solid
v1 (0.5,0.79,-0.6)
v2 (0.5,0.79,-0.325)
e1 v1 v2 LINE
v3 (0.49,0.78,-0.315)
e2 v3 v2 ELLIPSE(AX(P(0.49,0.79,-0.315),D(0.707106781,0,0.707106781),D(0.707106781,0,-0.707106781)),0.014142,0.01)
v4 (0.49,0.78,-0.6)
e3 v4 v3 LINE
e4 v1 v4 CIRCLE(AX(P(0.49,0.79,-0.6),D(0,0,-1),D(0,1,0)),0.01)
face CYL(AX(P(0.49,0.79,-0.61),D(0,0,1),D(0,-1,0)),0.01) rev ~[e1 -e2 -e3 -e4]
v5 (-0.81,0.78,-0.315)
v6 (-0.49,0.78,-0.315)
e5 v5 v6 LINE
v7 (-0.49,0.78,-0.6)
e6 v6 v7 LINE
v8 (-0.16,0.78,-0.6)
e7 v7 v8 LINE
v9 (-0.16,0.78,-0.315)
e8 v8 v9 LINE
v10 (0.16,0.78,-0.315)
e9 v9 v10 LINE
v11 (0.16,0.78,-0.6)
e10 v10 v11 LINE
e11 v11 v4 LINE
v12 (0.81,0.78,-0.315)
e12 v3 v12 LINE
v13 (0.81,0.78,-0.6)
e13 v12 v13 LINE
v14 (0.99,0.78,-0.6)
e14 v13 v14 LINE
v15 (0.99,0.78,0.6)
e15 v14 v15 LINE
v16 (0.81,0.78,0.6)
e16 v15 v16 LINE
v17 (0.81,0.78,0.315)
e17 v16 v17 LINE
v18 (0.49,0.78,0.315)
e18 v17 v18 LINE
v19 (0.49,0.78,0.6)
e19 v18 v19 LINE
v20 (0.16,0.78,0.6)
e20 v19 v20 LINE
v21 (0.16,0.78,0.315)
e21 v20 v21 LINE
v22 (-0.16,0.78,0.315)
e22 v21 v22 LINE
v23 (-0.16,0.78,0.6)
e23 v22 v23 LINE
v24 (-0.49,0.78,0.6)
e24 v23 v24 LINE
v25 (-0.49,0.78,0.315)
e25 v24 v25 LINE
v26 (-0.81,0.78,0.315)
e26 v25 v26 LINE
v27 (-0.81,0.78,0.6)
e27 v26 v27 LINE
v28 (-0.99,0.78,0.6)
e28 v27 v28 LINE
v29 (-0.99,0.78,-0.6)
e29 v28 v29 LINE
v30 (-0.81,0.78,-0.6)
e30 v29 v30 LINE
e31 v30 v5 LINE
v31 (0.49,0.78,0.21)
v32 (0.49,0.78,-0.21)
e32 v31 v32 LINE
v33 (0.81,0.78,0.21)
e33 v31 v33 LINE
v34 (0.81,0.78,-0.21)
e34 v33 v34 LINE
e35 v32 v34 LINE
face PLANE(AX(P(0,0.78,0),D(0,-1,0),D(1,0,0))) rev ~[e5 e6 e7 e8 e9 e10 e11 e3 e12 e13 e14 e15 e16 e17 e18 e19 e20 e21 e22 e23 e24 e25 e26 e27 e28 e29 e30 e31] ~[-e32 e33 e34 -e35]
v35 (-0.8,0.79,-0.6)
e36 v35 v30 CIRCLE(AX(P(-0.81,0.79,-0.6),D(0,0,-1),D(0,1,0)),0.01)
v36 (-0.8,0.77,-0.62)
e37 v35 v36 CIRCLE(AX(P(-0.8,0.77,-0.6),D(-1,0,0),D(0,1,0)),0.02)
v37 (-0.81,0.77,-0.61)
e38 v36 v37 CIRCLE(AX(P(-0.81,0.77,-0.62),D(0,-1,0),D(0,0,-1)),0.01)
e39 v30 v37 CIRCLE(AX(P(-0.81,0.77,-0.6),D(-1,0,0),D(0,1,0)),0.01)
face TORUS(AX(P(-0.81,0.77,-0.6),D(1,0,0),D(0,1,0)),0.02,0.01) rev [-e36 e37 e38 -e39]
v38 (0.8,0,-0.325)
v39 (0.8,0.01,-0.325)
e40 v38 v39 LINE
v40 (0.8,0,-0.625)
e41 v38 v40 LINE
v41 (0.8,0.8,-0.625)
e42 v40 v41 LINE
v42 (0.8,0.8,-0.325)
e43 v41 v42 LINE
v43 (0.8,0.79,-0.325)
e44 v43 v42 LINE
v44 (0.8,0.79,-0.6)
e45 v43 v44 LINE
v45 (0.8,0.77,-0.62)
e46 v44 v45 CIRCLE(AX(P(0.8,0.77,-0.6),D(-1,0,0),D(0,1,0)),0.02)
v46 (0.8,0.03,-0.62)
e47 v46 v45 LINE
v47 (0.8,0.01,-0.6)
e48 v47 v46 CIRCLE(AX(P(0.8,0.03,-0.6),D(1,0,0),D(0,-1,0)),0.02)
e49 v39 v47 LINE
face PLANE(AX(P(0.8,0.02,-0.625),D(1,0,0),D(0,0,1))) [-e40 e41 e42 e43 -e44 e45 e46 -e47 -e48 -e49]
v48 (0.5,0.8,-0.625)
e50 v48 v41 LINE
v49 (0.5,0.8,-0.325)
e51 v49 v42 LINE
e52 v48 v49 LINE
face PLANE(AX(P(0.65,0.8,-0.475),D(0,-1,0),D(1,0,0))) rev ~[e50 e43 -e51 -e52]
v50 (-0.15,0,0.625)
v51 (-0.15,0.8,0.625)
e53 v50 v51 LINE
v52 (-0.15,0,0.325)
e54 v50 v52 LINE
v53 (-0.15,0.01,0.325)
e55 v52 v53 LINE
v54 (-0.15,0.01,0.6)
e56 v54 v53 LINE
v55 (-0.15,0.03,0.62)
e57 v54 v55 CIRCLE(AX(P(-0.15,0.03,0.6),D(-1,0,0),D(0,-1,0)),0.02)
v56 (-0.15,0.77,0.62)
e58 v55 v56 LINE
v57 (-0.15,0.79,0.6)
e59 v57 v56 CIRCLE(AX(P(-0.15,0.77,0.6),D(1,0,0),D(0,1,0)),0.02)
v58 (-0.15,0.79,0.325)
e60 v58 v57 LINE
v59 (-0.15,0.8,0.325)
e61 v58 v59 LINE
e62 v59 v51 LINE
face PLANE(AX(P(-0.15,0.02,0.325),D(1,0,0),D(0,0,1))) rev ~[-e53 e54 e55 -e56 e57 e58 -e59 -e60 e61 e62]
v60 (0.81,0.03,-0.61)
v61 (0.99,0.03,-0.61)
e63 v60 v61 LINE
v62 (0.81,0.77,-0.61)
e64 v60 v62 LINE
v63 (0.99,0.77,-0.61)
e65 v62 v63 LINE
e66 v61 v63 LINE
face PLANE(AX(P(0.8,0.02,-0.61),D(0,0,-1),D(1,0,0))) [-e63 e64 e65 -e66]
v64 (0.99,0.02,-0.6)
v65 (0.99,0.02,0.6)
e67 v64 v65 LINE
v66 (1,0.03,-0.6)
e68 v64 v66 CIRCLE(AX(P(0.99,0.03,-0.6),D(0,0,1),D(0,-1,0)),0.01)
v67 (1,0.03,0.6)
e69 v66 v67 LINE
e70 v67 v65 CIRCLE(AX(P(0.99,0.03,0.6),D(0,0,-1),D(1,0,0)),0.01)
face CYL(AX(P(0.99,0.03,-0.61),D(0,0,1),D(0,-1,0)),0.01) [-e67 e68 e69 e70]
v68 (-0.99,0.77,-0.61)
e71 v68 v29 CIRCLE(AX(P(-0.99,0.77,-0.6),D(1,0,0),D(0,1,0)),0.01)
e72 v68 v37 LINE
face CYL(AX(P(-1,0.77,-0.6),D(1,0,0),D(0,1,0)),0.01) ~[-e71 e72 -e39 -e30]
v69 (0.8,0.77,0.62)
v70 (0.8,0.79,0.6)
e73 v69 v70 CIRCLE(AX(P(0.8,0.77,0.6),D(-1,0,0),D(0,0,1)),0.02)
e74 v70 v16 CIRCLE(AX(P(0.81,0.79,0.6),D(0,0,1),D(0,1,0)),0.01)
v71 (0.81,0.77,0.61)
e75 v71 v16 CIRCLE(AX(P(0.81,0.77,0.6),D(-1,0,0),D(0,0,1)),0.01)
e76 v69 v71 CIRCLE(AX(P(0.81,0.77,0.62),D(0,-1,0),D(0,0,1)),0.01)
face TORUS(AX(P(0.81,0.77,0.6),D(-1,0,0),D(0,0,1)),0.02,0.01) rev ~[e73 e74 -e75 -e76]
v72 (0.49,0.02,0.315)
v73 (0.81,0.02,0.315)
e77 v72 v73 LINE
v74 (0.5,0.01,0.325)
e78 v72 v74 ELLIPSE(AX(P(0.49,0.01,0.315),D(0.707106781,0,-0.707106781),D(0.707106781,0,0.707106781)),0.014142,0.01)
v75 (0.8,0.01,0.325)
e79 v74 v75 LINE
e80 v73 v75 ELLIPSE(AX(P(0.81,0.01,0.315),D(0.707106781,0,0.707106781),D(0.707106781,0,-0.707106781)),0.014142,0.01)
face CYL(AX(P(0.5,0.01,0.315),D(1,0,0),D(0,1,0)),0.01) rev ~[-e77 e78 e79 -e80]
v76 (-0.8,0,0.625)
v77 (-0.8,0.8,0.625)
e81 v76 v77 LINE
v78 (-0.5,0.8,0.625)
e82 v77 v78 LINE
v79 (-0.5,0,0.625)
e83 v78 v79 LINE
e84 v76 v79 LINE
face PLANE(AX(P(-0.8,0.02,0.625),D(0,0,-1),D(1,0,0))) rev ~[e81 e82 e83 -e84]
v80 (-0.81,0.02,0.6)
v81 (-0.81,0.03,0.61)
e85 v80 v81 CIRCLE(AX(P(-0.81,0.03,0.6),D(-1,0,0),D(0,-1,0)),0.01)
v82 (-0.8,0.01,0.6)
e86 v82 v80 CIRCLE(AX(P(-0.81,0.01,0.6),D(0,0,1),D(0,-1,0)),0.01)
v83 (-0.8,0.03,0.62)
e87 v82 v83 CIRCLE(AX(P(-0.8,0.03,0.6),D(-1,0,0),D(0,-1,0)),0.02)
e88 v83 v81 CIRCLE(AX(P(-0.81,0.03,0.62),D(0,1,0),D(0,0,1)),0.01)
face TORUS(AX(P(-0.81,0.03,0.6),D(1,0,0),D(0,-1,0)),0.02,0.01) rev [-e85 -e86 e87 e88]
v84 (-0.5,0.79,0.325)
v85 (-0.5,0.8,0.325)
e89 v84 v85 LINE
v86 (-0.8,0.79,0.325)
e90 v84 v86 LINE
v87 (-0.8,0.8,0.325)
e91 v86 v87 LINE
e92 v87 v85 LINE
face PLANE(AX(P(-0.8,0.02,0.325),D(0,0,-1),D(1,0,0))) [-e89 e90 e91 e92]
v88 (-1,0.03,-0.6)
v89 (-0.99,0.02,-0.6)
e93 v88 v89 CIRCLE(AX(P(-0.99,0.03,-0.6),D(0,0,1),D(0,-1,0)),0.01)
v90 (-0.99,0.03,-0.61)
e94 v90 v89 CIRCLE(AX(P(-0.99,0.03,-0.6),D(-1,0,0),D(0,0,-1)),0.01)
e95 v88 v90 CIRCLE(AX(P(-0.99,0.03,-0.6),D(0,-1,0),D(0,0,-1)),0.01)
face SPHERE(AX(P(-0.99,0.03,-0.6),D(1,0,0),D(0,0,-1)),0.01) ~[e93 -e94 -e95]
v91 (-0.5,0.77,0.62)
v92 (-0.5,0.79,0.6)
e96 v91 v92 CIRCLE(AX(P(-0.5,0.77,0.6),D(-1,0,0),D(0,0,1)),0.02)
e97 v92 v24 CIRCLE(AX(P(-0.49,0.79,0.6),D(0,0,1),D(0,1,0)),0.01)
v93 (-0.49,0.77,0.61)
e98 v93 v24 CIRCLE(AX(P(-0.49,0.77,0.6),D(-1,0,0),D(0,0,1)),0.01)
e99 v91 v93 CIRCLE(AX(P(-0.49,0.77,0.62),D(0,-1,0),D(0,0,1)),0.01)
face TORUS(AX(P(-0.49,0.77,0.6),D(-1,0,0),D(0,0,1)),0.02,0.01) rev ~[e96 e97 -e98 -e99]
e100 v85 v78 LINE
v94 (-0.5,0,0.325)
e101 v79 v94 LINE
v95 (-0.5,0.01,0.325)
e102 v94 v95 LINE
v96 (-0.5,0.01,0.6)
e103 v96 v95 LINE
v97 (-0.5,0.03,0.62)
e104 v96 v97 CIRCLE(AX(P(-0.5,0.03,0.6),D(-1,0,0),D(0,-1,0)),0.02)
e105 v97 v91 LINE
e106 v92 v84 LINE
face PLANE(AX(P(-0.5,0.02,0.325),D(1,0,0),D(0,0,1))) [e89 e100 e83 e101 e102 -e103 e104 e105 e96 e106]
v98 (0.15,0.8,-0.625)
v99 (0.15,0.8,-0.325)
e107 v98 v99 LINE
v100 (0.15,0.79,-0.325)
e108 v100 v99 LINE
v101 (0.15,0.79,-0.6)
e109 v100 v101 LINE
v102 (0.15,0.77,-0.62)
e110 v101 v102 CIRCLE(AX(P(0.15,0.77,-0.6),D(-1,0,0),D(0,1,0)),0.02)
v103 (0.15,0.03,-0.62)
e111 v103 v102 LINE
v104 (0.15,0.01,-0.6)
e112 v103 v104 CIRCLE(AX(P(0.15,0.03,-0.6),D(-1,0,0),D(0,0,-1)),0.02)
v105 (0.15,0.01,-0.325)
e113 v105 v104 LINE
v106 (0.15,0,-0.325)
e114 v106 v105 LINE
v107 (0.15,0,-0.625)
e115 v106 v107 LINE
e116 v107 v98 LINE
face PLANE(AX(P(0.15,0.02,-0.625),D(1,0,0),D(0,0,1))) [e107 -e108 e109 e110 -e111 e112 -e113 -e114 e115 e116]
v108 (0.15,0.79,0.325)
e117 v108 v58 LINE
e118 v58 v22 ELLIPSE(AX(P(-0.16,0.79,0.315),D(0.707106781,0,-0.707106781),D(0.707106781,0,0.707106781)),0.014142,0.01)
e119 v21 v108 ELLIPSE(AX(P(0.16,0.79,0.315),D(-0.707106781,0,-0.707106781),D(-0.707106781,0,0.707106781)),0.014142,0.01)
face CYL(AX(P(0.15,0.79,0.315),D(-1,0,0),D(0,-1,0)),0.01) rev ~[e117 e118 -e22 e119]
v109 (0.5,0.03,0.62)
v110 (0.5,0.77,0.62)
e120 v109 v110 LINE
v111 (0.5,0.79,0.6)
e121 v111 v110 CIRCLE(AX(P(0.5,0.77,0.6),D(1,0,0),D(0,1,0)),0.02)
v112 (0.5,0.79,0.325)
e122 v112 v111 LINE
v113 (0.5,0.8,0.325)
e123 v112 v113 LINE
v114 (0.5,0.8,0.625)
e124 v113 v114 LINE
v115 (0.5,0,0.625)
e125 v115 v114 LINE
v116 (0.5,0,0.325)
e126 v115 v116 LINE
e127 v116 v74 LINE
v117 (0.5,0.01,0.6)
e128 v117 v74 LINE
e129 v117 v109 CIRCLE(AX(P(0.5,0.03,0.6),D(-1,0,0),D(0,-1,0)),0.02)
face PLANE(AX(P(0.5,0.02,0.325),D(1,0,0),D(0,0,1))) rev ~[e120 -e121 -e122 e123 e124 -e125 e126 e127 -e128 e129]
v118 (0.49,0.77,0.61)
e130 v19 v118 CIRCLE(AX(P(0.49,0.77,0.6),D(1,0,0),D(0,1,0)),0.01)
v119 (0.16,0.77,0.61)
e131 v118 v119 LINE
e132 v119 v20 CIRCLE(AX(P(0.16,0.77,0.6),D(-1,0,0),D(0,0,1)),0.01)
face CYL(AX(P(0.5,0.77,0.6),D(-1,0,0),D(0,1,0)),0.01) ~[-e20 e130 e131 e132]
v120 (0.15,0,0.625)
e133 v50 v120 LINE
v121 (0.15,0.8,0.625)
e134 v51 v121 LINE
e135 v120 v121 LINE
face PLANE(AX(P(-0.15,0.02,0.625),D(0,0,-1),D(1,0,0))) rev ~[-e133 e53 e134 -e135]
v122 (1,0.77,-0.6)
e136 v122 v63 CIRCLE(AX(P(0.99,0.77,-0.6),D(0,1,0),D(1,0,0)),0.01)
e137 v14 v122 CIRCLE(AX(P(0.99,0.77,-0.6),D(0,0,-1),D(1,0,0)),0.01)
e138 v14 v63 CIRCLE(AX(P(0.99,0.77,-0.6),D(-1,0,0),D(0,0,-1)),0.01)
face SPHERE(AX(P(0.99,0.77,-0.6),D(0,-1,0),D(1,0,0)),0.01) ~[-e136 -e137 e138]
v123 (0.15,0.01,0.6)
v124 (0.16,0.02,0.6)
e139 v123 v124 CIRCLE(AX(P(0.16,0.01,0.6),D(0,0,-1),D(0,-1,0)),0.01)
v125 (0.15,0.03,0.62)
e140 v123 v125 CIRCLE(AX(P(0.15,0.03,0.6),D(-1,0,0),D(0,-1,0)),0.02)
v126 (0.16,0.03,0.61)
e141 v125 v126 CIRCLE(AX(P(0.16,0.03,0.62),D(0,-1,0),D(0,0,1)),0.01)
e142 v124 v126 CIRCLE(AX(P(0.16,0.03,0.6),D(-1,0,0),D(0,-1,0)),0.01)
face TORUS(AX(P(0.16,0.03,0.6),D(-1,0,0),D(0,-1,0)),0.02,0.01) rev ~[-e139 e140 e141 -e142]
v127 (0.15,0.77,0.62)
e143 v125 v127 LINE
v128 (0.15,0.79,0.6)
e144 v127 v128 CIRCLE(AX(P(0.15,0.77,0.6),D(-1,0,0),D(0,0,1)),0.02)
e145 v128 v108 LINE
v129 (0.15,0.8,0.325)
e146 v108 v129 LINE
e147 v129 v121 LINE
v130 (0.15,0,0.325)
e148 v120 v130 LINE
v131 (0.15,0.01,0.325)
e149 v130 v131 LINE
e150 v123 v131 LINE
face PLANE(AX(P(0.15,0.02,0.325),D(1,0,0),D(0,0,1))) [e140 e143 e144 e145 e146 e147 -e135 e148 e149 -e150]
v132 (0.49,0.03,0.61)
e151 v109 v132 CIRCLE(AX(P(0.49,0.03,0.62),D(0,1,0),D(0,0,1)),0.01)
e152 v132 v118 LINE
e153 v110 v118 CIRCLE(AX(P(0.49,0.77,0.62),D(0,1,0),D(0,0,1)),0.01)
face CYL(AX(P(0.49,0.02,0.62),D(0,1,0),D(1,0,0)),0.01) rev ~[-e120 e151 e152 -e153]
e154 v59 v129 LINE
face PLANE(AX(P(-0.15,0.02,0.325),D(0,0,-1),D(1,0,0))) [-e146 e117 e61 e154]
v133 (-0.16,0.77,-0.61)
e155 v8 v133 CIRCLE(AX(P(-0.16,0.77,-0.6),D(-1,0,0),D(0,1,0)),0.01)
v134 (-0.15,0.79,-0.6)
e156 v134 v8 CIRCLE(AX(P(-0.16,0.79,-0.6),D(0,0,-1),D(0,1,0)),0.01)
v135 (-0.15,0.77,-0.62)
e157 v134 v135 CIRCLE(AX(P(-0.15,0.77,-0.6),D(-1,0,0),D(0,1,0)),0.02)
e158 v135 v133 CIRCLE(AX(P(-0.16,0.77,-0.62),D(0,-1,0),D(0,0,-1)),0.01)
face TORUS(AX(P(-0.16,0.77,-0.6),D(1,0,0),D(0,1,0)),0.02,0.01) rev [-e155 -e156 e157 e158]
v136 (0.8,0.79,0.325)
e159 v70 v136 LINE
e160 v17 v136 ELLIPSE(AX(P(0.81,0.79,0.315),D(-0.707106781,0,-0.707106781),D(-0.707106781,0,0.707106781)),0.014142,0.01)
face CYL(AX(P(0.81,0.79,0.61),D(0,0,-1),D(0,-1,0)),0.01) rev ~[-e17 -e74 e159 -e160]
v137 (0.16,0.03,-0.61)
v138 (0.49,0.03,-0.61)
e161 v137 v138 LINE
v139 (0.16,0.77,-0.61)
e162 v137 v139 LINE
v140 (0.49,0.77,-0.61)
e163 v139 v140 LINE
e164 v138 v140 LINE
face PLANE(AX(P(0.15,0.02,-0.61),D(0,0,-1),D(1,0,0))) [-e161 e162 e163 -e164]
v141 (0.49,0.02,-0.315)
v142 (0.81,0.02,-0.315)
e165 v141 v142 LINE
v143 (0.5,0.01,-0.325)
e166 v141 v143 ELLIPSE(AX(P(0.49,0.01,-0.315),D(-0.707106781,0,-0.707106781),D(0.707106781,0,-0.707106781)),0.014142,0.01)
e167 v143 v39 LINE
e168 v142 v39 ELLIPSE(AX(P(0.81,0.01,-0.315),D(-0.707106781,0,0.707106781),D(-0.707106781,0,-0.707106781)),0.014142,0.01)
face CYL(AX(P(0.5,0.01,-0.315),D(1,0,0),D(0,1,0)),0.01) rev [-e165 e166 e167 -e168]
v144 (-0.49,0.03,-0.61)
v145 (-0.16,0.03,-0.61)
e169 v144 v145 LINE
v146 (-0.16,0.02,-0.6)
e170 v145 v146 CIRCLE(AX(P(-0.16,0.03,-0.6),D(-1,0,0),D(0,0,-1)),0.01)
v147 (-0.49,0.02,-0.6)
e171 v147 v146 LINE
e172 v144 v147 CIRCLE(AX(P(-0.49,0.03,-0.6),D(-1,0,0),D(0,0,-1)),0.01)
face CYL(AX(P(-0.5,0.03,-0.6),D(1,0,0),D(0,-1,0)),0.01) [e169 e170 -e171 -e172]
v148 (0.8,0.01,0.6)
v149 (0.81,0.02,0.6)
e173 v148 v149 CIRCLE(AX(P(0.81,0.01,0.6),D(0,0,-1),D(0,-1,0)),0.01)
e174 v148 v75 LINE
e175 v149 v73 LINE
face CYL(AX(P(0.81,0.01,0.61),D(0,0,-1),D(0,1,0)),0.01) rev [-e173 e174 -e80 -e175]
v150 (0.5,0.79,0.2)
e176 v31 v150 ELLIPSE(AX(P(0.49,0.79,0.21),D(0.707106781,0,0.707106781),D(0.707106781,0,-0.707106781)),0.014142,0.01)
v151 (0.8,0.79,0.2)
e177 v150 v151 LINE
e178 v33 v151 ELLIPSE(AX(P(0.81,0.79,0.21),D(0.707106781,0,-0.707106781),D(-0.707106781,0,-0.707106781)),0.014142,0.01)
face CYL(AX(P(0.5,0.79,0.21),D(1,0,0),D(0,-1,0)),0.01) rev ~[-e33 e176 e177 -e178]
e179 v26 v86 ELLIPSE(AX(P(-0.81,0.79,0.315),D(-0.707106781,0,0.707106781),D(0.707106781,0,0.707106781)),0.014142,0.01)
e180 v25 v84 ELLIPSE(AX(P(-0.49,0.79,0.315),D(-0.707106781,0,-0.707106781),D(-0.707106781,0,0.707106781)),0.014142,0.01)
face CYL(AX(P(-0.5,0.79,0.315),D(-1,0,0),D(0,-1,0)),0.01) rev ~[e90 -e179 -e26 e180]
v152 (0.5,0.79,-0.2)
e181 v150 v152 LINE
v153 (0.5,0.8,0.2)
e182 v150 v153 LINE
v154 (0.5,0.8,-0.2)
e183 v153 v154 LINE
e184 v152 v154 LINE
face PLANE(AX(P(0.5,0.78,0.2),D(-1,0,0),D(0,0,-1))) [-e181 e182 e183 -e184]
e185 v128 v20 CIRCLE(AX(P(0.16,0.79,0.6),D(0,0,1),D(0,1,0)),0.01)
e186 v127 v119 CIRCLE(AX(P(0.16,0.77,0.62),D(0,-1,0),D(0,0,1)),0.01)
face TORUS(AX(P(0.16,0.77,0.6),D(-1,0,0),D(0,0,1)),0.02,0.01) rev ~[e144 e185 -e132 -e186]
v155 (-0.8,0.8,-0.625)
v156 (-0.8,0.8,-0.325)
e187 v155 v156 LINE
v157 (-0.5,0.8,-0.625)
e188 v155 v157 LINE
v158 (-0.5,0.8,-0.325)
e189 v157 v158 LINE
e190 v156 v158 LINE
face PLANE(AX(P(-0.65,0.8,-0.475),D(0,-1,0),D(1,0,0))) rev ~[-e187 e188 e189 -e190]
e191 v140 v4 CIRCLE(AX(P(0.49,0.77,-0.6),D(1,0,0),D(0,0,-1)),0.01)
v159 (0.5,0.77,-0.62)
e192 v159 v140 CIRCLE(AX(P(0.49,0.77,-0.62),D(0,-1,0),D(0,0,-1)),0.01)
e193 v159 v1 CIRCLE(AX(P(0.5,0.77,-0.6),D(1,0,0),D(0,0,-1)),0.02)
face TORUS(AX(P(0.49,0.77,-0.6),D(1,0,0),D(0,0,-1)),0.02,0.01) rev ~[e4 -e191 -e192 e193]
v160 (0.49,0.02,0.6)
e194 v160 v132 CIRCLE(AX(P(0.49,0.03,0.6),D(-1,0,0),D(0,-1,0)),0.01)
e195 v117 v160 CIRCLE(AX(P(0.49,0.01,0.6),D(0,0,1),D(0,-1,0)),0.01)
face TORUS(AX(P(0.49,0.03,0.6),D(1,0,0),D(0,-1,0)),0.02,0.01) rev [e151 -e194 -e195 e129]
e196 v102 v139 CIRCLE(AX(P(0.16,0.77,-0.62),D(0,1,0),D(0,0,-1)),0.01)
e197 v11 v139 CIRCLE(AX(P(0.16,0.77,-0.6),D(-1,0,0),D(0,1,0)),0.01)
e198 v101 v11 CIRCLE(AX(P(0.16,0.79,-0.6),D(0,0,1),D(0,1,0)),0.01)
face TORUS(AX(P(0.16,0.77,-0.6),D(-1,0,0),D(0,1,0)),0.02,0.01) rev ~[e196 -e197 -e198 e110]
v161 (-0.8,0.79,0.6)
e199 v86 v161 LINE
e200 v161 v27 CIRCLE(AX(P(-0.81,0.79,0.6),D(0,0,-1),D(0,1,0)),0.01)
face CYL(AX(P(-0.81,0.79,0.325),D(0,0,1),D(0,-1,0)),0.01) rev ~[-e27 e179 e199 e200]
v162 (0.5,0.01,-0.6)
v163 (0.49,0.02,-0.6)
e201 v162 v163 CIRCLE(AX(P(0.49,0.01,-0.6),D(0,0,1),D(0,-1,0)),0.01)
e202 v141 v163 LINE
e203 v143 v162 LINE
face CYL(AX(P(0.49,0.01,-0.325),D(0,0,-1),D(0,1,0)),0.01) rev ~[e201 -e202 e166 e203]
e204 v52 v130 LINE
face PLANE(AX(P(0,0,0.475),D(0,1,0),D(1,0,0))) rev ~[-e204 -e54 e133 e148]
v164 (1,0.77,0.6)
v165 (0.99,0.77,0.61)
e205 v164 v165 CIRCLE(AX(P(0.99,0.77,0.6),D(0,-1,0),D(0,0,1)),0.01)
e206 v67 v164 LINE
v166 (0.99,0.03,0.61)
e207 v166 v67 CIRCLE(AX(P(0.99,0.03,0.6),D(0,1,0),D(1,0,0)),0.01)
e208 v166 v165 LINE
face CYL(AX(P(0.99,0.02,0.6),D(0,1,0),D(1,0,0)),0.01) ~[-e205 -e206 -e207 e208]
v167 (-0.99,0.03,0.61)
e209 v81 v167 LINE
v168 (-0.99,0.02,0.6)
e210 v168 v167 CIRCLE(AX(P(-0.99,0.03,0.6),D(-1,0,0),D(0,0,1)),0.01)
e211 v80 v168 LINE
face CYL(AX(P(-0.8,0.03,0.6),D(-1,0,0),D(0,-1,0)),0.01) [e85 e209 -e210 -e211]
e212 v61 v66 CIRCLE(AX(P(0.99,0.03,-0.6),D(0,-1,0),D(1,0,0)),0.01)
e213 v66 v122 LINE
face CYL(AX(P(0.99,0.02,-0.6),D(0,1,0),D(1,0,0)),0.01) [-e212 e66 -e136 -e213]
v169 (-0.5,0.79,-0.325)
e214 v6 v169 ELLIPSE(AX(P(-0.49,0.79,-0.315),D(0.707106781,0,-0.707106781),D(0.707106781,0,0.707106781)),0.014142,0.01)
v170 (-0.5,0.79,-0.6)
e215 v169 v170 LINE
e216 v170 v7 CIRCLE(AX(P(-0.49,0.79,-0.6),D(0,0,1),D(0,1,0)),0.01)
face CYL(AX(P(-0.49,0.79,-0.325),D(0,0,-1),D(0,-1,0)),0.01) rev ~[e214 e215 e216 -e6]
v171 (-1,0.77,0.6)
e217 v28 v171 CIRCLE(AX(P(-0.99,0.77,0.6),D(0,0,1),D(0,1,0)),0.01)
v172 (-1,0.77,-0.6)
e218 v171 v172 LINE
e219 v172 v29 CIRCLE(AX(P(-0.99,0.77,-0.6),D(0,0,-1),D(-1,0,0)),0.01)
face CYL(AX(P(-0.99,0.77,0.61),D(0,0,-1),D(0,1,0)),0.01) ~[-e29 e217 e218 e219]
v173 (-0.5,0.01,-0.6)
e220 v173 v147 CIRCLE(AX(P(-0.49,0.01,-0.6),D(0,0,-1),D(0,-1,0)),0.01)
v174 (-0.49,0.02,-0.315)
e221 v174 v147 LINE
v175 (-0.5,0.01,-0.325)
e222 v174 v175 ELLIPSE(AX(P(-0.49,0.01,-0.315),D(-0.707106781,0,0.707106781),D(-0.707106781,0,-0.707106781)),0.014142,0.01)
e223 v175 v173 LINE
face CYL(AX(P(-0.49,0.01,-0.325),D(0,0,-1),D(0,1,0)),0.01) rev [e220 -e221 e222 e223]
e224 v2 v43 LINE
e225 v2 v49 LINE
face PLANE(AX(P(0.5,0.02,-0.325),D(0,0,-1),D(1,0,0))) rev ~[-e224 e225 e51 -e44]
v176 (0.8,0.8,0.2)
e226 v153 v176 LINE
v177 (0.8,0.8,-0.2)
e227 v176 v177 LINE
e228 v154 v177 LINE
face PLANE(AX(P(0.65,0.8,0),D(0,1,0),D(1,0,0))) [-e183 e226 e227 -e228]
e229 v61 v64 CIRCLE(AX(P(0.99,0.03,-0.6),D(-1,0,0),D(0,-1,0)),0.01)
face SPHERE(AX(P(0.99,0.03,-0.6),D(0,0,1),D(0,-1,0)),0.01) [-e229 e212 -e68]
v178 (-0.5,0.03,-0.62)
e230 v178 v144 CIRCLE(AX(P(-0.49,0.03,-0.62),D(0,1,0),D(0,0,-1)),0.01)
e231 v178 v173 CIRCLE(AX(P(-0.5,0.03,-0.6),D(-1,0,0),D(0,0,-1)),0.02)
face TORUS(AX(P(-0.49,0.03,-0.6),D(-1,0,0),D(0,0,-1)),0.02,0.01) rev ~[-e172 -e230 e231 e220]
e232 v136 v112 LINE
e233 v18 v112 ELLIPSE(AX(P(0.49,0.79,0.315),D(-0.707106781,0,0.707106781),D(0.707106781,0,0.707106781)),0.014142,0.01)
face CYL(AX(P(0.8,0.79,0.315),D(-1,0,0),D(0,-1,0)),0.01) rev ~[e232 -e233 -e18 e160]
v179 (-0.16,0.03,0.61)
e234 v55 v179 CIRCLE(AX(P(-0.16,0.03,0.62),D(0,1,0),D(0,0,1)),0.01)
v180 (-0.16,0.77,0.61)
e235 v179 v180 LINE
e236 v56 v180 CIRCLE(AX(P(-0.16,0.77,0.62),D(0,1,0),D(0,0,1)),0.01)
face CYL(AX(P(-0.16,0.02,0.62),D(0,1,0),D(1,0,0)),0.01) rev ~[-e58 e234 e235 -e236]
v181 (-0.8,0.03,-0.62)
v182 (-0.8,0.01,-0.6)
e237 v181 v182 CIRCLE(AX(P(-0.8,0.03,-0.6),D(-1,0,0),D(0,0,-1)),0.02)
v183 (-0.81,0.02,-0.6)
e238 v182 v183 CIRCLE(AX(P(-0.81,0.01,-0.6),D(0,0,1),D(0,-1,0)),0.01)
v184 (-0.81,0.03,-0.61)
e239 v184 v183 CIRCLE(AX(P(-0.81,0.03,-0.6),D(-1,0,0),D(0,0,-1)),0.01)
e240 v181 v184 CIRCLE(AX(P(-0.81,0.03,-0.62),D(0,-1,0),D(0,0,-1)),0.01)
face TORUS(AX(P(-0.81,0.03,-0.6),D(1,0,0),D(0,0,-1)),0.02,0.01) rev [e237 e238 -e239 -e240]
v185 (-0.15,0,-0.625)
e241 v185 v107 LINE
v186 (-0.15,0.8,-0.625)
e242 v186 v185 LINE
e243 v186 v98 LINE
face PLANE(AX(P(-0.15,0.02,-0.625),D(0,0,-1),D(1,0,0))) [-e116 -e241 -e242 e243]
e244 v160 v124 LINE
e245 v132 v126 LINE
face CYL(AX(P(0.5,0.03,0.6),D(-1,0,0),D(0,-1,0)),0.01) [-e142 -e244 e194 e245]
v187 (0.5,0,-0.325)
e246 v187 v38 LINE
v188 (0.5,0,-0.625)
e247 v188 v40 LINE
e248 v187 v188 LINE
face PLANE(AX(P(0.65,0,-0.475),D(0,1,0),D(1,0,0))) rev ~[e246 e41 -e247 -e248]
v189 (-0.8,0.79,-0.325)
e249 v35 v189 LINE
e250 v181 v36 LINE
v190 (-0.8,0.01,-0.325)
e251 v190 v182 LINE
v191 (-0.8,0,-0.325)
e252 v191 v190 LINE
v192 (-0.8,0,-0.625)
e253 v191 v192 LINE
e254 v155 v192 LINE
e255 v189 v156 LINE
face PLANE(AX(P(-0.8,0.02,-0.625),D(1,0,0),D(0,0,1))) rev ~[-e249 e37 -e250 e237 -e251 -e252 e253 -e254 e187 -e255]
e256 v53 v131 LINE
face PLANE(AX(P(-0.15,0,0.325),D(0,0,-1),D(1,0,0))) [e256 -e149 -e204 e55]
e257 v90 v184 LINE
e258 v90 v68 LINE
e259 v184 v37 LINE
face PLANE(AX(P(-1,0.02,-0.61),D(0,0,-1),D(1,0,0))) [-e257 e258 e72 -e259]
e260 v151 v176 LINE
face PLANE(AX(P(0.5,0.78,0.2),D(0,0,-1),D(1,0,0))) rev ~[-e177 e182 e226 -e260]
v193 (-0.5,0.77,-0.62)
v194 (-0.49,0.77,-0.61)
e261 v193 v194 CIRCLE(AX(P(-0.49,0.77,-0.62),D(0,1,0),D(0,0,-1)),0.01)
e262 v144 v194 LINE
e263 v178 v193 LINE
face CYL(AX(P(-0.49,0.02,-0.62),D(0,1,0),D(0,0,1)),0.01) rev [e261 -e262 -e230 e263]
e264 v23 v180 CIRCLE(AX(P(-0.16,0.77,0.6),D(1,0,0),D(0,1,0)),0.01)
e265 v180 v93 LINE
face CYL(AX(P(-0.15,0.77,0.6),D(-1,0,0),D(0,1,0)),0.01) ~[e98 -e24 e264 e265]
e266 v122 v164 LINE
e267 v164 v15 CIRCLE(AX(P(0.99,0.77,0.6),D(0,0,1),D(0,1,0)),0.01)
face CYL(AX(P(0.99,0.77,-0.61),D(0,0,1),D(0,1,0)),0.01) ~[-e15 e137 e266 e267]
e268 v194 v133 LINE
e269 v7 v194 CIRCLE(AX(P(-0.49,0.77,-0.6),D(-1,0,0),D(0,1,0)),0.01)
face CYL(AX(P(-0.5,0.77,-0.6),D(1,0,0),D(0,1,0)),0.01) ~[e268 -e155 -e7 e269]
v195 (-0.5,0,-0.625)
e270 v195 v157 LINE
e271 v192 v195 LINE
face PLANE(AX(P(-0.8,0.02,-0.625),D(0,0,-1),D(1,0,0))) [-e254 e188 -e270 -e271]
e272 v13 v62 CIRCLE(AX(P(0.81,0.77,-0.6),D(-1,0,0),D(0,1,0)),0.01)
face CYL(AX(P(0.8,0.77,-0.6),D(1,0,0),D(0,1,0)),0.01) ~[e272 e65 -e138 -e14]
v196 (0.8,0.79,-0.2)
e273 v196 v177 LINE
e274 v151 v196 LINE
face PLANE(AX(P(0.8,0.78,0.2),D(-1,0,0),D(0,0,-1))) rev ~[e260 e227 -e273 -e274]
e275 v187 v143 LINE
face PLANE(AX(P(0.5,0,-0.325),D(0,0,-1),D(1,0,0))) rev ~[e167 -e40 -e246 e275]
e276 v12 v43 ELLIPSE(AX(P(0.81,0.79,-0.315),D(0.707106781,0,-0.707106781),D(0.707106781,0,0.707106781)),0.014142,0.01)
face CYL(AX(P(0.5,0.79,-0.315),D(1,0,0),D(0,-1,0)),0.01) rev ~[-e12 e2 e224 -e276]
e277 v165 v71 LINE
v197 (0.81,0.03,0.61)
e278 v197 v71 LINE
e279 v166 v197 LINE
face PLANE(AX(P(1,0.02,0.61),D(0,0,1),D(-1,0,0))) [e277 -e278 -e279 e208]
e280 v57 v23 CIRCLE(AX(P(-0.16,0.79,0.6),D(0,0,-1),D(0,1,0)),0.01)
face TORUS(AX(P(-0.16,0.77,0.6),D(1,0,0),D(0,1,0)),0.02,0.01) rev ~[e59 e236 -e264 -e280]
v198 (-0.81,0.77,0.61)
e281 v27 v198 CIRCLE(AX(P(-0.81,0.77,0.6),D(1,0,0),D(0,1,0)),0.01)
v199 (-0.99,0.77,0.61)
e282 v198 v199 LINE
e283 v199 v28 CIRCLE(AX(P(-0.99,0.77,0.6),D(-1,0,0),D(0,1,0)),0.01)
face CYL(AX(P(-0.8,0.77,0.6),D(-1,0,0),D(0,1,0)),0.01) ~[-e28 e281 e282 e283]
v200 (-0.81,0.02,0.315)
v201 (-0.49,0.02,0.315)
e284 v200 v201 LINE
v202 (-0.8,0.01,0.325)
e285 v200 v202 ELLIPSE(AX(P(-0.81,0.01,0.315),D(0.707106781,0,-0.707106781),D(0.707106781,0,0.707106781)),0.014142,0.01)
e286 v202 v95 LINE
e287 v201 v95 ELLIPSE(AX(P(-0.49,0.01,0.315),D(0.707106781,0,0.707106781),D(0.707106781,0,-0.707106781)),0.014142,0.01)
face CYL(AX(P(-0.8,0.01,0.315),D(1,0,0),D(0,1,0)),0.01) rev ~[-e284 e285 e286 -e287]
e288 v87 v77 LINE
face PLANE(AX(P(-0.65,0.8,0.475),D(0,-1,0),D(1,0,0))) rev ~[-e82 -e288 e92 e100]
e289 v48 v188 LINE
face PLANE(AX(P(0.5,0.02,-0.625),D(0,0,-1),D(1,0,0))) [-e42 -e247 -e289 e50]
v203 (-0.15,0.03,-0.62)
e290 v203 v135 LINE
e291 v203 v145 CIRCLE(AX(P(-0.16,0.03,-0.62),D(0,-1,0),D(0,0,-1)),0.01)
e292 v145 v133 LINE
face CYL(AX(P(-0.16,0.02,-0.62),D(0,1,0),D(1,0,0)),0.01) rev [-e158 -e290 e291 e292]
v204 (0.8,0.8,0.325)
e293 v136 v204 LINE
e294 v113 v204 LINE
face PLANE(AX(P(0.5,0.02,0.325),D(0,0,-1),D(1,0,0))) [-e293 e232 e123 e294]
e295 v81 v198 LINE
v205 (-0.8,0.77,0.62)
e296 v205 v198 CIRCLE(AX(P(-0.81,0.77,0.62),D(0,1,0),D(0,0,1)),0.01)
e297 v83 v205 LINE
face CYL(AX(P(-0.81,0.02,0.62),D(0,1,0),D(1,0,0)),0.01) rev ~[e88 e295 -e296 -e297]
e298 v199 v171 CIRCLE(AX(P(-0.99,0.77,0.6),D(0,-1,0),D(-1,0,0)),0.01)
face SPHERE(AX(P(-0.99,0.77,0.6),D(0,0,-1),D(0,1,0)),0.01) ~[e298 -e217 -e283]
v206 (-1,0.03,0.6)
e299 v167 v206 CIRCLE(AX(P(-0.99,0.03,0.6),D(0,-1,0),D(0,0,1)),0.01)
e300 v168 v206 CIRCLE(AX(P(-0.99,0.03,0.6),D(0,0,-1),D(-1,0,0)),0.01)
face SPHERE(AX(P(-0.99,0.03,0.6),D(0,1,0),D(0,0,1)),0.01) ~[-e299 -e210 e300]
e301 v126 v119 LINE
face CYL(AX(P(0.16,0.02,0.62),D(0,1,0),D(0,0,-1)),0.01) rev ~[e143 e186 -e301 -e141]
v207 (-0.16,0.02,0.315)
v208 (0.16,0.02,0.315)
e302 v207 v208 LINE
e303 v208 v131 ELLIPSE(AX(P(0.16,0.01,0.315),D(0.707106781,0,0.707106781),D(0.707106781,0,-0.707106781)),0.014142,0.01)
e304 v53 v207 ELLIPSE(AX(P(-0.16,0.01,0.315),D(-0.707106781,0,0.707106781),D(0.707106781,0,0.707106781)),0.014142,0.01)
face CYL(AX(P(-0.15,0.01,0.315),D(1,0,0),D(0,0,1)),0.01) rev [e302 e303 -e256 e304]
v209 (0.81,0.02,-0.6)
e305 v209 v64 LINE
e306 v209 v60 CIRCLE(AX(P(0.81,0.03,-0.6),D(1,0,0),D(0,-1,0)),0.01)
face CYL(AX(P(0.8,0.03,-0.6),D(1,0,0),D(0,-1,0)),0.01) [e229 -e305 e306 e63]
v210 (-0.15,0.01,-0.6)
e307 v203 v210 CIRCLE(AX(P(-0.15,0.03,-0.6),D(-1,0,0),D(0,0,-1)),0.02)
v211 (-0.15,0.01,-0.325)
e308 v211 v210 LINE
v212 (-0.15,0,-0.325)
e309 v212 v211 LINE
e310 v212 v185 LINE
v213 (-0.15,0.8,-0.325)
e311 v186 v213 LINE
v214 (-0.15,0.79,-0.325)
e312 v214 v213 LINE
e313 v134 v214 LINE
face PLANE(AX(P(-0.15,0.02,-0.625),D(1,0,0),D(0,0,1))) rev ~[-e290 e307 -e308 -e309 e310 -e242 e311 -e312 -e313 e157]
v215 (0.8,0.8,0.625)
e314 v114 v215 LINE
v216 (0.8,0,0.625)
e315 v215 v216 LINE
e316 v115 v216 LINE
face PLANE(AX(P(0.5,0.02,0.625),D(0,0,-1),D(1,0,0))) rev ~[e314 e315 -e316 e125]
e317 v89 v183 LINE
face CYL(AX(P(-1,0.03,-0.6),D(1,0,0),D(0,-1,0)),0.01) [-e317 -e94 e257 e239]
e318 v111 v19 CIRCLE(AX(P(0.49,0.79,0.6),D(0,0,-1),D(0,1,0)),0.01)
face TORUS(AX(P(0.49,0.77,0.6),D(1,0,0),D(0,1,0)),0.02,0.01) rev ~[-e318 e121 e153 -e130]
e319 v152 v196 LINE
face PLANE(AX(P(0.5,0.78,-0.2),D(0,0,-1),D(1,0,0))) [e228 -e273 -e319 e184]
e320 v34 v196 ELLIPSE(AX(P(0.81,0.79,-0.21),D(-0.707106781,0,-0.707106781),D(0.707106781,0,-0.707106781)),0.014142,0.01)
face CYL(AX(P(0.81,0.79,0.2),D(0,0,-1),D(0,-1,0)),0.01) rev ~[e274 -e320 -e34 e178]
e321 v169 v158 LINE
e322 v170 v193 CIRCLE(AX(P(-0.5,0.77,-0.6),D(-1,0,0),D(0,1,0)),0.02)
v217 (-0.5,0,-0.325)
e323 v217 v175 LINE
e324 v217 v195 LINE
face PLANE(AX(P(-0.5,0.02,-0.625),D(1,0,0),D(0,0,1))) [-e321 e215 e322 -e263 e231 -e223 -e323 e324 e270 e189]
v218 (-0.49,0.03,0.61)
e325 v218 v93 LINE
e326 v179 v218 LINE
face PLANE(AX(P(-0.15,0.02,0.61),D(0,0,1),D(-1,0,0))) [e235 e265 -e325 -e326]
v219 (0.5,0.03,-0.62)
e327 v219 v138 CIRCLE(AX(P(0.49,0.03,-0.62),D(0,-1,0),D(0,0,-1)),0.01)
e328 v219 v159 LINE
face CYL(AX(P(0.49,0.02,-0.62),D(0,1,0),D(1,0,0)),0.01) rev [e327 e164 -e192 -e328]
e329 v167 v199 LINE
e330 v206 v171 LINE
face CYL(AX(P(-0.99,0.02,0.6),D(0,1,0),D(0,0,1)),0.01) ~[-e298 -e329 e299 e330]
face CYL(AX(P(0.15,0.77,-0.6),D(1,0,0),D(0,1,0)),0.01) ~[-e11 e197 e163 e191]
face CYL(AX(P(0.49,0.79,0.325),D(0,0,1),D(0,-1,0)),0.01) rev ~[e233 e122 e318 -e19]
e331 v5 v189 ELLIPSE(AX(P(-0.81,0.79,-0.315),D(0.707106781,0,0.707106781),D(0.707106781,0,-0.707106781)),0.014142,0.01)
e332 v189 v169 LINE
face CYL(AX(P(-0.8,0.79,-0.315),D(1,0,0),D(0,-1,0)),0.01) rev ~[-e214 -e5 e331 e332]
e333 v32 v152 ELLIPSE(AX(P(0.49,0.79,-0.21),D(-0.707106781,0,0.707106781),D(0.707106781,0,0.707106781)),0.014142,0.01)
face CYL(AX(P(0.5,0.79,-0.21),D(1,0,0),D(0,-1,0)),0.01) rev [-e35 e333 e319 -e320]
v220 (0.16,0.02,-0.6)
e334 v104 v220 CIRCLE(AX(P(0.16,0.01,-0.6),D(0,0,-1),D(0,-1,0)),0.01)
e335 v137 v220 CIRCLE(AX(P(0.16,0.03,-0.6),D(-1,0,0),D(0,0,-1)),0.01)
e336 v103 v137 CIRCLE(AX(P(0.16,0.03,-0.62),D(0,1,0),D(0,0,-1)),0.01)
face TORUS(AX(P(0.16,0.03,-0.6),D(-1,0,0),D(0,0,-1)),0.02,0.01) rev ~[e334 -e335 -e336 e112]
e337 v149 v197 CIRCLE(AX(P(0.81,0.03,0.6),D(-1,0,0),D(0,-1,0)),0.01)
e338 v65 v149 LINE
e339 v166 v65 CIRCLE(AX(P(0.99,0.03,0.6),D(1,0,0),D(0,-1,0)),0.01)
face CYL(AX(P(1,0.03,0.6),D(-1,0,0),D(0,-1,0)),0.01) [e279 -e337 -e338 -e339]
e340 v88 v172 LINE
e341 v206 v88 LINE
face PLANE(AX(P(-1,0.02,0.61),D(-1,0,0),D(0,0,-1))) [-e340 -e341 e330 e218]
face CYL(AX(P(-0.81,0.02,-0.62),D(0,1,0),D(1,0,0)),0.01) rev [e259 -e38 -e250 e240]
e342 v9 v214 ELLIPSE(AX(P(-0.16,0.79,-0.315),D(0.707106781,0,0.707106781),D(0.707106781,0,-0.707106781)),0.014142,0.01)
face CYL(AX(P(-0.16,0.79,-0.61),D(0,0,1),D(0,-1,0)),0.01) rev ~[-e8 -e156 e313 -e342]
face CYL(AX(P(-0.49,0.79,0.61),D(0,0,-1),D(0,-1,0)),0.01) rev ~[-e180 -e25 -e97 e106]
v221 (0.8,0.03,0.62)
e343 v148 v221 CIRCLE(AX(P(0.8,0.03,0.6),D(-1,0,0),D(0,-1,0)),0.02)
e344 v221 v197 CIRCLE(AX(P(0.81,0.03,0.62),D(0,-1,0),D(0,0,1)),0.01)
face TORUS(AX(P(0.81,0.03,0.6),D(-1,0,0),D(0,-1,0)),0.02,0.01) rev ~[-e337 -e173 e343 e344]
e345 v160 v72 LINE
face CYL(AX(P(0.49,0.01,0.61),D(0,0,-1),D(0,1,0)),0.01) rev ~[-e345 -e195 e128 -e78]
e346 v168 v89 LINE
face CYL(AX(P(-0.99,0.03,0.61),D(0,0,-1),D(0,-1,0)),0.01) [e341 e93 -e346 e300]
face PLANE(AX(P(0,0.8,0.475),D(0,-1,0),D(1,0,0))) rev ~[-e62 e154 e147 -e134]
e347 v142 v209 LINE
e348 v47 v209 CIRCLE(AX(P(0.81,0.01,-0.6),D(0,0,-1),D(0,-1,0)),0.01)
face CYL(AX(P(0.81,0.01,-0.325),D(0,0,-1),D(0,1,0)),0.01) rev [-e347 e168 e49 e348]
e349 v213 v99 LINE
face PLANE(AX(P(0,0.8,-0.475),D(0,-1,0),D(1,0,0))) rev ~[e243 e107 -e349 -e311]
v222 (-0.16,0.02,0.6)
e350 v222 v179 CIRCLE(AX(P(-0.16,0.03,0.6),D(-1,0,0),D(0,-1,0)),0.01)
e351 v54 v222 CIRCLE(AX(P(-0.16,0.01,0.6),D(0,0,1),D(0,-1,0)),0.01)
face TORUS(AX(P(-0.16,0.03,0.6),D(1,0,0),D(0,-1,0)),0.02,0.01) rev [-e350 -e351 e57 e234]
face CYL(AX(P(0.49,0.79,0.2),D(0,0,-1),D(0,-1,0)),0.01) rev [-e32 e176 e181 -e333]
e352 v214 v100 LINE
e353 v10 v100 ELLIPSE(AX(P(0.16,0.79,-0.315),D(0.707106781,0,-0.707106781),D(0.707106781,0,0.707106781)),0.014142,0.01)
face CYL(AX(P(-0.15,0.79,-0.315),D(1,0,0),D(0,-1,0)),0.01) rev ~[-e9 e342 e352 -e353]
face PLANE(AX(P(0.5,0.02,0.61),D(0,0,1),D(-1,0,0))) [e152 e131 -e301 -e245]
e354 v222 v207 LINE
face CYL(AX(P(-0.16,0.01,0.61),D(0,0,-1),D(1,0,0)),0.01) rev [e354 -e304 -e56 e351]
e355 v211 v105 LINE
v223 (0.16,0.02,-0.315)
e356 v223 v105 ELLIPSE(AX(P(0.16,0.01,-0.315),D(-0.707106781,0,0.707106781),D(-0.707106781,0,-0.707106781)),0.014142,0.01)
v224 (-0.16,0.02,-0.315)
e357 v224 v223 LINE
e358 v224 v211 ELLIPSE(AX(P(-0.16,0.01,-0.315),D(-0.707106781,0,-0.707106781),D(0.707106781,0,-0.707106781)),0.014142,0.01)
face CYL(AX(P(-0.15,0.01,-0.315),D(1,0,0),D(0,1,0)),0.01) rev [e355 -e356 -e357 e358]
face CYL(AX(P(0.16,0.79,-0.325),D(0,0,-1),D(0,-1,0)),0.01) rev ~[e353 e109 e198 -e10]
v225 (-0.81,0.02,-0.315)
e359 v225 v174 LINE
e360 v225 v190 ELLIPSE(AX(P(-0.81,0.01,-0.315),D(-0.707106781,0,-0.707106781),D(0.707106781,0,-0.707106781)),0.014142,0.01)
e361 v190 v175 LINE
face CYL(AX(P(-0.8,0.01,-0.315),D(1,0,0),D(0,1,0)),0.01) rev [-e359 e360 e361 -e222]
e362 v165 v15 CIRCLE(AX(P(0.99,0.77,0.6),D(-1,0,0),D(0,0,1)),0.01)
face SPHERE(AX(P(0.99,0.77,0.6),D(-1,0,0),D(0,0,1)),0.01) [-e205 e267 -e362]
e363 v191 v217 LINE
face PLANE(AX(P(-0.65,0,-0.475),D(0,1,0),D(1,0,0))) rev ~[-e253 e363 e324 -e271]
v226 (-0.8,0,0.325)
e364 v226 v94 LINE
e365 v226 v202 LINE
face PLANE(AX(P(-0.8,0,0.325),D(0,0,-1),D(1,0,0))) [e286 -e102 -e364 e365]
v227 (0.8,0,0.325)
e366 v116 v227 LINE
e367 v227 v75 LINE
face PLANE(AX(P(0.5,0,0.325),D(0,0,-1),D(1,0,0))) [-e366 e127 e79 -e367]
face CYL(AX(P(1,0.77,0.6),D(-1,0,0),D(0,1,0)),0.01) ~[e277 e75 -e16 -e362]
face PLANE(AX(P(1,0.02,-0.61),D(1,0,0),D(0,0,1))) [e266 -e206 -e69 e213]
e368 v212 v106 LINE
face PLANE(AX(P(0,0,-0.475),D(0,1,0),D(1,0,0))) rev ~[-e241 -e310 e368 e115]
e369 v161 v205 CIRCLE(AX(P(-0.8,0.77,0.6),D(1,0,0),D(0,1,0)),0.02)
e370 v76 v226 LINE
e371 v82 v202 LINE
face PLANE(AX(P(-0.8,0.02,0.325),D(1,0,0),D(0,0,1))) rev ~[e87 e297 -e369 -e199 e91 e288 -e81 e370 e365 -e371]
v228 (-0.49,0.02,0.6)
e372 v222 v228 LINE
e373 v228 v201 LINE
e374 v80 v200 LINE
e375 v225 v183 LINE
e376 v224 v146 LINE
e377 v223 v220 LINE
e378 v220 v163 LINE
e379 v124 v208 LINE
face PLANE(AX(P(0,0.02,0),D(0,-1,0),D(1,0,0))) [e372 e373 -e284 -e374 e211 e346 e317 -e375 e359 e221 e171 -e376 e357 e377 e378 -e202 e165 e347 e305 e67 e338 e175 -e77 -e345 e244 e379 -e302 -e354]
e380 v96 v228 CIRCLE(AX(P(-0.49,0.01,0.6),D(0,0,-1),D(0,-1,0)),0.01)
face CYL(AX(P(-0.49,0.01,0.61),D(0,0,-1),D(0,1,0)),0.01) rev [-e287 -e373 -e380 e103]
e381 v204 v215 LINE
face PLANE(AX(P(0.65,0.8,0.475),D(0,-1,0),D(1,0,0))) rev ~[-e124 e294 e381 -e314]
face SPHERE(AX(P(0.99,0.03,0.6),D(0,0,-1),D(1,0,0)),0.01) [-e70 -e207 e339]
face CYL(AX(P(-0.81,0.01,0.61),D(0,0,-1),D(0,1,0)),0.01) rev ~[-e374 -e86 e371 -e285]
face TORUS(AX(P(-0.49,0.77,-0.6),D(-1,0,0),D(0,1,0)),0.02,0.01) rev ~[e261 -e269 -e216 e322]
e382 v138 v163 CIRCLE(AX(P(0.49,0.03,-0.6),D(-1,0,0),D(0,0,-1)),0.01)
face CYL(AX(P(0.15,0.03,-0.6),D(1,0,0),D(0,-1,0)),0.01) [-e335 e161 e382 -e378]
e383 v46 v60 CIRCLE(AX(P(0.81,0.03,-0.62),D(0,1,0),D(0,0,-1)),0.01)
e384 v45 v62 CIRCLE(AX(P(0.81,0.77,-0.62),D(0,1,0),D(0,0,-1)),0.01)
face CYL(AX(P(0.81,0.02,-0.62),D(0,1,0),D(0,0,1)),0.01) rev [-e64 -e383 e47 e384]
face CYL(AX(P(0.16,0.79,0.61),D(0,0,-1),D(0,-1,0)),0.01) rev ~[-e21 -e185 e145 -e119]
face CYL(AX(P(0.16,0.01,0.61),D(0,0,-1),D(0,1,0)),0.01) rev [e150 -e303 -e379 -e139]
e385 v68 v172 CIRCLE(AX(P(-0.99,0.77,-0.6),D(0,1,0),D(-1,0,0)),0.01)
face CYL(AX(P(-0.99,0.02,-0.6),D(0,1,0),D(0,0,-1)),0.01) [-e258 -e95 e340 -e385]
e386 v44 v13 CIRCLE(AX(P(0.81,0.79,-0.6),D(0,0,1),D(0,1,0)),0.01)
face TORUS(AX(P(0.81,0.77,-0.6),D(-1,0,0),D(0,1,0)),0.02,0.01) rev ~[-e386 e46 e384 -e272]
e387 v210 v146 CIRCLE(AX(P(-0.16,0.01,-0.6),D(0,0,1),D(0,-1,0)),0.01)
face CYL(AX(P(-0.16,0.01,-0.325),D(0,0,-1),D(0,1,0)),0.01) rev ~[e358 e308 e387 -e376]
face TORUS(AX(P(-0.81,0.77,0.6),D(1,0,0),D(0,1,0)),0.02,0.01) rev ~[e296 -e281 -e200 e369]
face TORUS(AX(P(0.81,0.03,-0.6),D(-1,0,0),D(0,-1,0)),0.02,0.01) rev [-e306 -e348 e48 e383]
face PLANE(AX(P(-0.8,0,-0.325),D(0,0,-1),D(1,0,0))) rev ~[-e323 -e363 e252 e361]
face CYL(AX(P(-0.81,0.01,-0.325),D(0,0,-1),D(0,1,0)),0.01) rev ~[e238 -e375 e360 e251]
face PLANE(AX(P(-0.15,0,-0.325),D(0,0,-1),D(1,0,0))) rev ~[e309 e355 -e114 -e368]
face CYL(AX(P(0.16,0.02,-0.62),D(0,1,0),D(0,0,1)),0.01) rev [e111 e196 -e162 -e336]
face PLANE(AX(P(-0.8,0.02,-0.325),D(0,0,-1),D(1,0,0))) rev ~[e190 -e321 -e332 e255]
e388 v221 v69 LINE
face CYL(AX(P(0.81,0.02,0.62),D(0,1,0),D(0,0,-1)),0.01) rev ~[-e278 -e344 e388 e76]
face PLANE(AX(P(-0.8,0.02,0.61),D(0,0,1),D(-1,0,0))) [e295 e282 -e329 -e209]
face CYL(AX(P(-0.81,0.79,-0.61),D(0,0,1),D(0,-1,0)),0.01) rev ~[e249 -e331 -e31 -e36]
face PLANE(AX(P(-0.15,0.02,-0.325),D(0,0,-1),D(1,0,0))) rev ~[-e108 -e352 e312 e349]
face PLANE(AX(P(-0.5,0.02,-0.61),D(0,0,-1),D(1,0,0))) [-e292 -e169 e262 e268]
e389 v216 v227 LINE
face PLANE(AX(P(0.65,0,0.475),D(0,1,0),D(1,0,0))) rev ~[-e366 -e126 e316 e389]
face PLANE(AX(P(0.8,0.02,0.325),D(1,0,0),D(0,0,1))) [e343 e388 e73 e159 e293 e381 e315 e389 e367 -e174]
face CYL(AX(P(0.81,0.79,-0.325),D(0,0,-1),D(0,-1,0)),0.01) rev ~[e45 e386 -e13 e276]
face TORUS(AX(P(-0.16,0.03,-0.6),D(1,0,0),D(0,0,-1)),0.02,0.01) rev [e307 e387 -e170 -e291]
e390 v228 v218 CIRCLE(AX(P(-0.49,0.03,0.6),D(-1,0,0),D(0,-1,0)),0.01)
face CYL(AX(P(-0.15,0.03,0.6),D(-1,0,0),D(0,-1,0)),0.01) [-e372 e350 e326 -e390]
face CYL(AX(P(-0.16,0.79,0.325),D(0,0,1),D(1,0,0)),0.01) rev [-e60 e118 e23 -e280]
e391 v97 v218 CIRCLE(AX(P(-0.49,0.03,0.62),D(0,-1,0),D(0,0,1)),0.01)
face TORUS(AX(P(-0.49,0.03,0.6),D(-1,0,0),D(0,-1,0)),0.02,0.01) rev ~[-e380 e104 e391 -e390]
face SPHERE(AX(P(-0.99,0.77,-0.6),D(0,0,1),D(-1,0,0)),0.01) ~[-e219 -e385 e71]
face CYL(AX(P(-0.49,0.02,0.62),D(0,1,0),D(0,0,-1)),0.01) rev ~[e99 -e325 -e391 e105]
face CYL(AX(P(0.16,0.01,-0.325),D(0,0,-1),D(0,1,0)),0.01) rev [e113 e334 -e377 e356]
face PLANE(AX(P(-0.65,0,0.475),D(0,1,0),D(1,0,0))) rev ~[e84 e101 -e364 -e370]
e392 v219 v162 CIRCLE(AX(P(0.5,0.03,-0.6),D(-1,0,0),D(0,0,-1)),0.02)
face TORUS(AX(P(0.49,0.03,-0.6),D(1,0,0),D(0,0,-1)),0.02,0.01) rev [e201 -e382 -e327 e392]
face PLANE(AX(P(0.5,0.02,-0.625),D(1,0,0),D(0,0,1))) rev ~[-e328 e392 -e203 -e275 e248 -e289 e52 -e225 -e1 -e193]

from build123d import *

# Parameters (mm, degrees)
SKETCH_2_W        = 0.3
SKETCH_2_H        = 0.3
EXTRUDE_1_DEPTH   = 0.02
EXTRUDE_1_2_DEPTH = 0.02
EXTRUDE_1_3_DEPTH = 0.02
EXTRUDE_1_4_DEPTH = 0.02
EXTRUDE_1_5_DEPTH = 0.02
EXTRUDE_1_6_DEPTH = 0.02
EXTRUDE_5_DEPTH   = 0.76
SKETCH_4_W        = 0.3
SKETCH_4_H        = 0.3
EXTRUDE_6_DEPTH   = 0.78
SKETCH_5_W        = 0.3
SKETCH_5_H        = 0.4
EXTRUDE_7_DEPTH   = 0.02
FILLET_1_R        = 0.01


with BuildPart() as part:
    # Эскиз2 → Бобышка-Вытянуть1 (new body)
    with BuildSketch(Plane(origin=(0, 0, 0), x_dir=(1, 0, 0), z_dir=(0, 1, 0))):
        with Locations((0, 0.475)):
            Rectangle(SKETCH_2_W, SKETCH_2_H)
    extrude(amount=EXTRUDE_1_DEPTH)



with BuildPart() as body_2:
    # Эскиз2 → Extrude 1 2 (new body)
    with BuildSketch(Plane(origin=(0, 0, 0), x_dir=(1, 0, 0), z_dir=(0, 1, 0))):
        with Locations((0.65, 0.475)):
            Rectangle(SKETCH_2_W, SKETCH_2_H)
    extrude(amount=EXTRUDE_1_2_DEPTH)


with BuildPart() as body_3:
    # Эскиз2 → Extrude 1 3 (new body)
    with BuildSketch(Plane(origin=(0, 0, 0), x_dir=(1, 0, 0), z_dir=(0, 1, 0))):
        with Locations((-0.65, 0.475)):
            Rectangle(SKETCH_2_W, SKETCH_2_H)
    extrude(amount=EXTRUDE_1_3_DEPTH)


with BuildPart() as body_4:
    # Эскиз2 → Extrude 1 4 (new body)
    with BuildSketch(Plane(origin=(0, 0, 0), x_dir=(1, 0, 0), z_dir=(0, 1, 0))):
        with Locations((0.65, -0.475)):
            Rectangle(SKETCH_2_W, SKETCH_2_H)
    extrude(amount=EXTRUDE_1_4_DEPTH)


with BuildPart() as body_5:
    # Эскиз2 → Extrude 1 5 (new body)
    with BuildSketch(Plane(origin=(0, 0, 0), x_dir=(1, 0, 0), z_dir=(0, 1, 0))):
        with Locations((0, -0.475)):
            Rectangle(SKETCH_2_W, SKETCH_2_H)
    extrude(amount=EXTRUDE_1_5_DEPTH)


with BuildPart() as body_6:
    # Эскиз2 → Extrude 1 6 (new body)
    with BuildSketch(Plane(origin=(0, 0, 0), x_dir=(1, 0, 0), z_dir=(0, 1, 0))):
        with Locations((-0.65, -0.475)):
            Rectangle(SKETCH_2_W, SKETCH_2_H)
    extrude(amount=EXTRUDE_1_6_DEPTH)


with BuildPart() as body_7:
    # Эскиз3 → Бобышка-Вытянуть5 (new body)
    with BuildSketch(Plane.XZ.offset(-0.02)):
        Polygon((1, -0.61), (1, 0.61), (0.8, 0.61), (0.8, 0.325), (0.5, 0.325), (0.5, 0.61), (0.15, 0.61), (0.15, 0.325), (-0.15, 0.325), (-0.15, 0.61), (-0.5, 0.61), (-0.5, 0.325), (-0.8, 0.325), (-0.8, 0.61), (-1, 0.61), (-1, -0.61), (-0.8, -0.61), (-0.8, -0.325), (-0.5, -0.325), (-0.5, -0.61), (-0.15, -0.61), (-0.15, -0.325), (0.15, -0.325), (0.15, -0.61), (0.5, -0.61), (0.5, -0.325), (0.8, -0.325), (0.8, -0.61), align=None)
    extrude(amount=-EXTRUDE_5_DEPTH)


with BuildPart() as part_1:
    add(part.part)

    add(body_2.part)  # Бобышка-Вытянуть6 merges body 2

    add(body_3.part)  # Бобышка-Вытянуть6 merges body 3

    add(body_4.part)  # Бобышка-Вытянуть6 merges body 4

    add(body_5.part)  # Бобышка-Вытянуть6 merges body 5

    add(body_6.part)  # Бобышка-Вытянуть6 merges body 6

    add(body_7.part)  # Бобышка-Вытянуть6 merges body 7
    # Эскиз4 → Бобышка-Вытянуть6 (add)
    with BuildSketch(Plane.XZ.offset(-0.02)):
        with Locations((0, 0.475)):
            Rectangle(SKETCH_4_W, SKETCH_4_H)
        with Locations((-0.65, 0.475)):
            Rectangle(SKETCH_4_W, SKETCH_4_H)
        with Locations((0.65, 0.475)):
            Rectangle(SKETCH_4_W, SKETCH_4_H)
        with Locations((-0.65, -0.475)):
            Rectangle(SKETCH_4_W, SKETCH_4_H)
        with Locations((0, -0.475)):
            Rectangle(SKETCH_4_W, SKETCH_4_H)
        with Locations((0.65, -0.475)):
            Rectangle(SKETCH_4_W, SKETCH_4_H)
    extrude(amount=-EXTRUDE_6_DEPTH)

    # Эскиз5 → Бобышка-Вытянуть7 (add)
    with BuildSketch(Plane(origin=(0, 0.78, 0), x_dir=(1, 0, 0), z_dir=(0, 1, 0))):
        with Locations((0.65, 0)):
            Rectangle(SKETCH_5_W, SKETCH_5_H)
    extrude(amount=EXTRUDE_7_DEPTH)

    # Скругление1
    fillet_1_edges = [part_1.edges().sort_by_distance(p)[0] for p in [
        (-0.5, 0.02, 0.4675),
        (-0.65, 0.02, 0.325),
        (-0.8, 0.02, 0.4675),
        (0.15, 0.02, 0.4675),
        (0, 0.02, 0.325),
        (-0.15, 0.02, 0.4675),
        (0.8, 0.02, 0.4675),
        (0.65, 0.02, 0.325),
        (0.5, 0.02, 0.4675),
        (-0.5, 0.02, -0.4675),
        (-0.8, 0.02, -0.4675),
        (-0.65, 0.02, -0.325),
        (0.15, 0.02, -0.4675),
        (-0.15, 0.02, -0.4675),
        (0, 0.02, -0.325),
        (0.8, 0.78, 0),
        (0.65, 0.78, -0.2),
        (0.5, 0.78, 0),
        (0.65, 0.78, 0.2),
        (0.325, 0.02, -0.61),
        (0.5, 0.4, -0.61),
        (0.15, 0.4, -0.61),
        (0, 0.78, -0.325),
        (-0.15, 0.78, -0.4675),
        (-0.325, 0.02, -0.61),
        (-0.15, 0.4, -0.61),
        (-0.5, 0.4, -0.61),
        (-0.65, 0.78, -0.325),
        (-0.8, 0.78, -0.4675),
        (-0.9, 0.02, -0.61),
        (-0.8, 0.4, -0.61),
        (-1, 0.78, 0),
        (-1, 0.4, -0.61),
        (-0.9, 0.78, 0.61),
        (-1, 0.4, 0.61),
        (-0.8, 0.78, 0.4675),
        (-0.8, 0.4, 0.61),
        (-0.325, 0.78, 0.61),
        (-0.5, 0.4, 0.61),
        (-0.15, 0.78, 0.4675),
        (-0.15, 0.4, 0.61),
        (0.325, 0.78, 0.61),
        (0.15, 0.4, 0.61),
        (0.5, 0.78, 0.4675),
        (0.5, 0.4, 0.61),
        (0.9, 0.78, 0.61),
        (0.8, 0.4, 0.61),
        (1, 0.02, 0),
        (1, 0.4, 0.61),
        (0.9, 0.02, -0.61),
        (1, 0.4, -0.61),
        (0.8, 0.02, -0.4675),
        (0.8, 0.4, -0.61),
        (0.65, 0.78, -0.325),
        (0.5, 0.78, -0.4675),
        (0.325, 0.78, -0.61),
        (0.15, 0.78, -0.4675),
        (-0.325, 0.78, -0.61),
        (-0.5, 0.78, -0.4675),
        (-0.9, 0.78, -0.61),
        (-0.65, 0.78, 0.325),
        (-0.5, 0.78, 0.4675),
        (0, 0.78, 0.325),
        (0.15, 0.78, 0.4675),
        (0.65, 0.78, 0.325),
        (0.8, 0.78, 0.4675),
        (1, 0.78, 0),
        (0.9, 0.78, -0.61),
        (0.8, 0.78, -0.4675),
        (0.5, 0.02, -0.4675),
        (0.65, 0.02, -0.325),
        (0.9, 0.02, 0.61),
        (0.325, 0.02, 0.61),
        (-0.325, 0.02, 0.61),
        (-0.9, 0.02, 0.61),
        (-1, 0.02, 0),
    ]]
    fillet(fillet_1_edges, radius=FILLET_1_R)


solid = part_1.part
